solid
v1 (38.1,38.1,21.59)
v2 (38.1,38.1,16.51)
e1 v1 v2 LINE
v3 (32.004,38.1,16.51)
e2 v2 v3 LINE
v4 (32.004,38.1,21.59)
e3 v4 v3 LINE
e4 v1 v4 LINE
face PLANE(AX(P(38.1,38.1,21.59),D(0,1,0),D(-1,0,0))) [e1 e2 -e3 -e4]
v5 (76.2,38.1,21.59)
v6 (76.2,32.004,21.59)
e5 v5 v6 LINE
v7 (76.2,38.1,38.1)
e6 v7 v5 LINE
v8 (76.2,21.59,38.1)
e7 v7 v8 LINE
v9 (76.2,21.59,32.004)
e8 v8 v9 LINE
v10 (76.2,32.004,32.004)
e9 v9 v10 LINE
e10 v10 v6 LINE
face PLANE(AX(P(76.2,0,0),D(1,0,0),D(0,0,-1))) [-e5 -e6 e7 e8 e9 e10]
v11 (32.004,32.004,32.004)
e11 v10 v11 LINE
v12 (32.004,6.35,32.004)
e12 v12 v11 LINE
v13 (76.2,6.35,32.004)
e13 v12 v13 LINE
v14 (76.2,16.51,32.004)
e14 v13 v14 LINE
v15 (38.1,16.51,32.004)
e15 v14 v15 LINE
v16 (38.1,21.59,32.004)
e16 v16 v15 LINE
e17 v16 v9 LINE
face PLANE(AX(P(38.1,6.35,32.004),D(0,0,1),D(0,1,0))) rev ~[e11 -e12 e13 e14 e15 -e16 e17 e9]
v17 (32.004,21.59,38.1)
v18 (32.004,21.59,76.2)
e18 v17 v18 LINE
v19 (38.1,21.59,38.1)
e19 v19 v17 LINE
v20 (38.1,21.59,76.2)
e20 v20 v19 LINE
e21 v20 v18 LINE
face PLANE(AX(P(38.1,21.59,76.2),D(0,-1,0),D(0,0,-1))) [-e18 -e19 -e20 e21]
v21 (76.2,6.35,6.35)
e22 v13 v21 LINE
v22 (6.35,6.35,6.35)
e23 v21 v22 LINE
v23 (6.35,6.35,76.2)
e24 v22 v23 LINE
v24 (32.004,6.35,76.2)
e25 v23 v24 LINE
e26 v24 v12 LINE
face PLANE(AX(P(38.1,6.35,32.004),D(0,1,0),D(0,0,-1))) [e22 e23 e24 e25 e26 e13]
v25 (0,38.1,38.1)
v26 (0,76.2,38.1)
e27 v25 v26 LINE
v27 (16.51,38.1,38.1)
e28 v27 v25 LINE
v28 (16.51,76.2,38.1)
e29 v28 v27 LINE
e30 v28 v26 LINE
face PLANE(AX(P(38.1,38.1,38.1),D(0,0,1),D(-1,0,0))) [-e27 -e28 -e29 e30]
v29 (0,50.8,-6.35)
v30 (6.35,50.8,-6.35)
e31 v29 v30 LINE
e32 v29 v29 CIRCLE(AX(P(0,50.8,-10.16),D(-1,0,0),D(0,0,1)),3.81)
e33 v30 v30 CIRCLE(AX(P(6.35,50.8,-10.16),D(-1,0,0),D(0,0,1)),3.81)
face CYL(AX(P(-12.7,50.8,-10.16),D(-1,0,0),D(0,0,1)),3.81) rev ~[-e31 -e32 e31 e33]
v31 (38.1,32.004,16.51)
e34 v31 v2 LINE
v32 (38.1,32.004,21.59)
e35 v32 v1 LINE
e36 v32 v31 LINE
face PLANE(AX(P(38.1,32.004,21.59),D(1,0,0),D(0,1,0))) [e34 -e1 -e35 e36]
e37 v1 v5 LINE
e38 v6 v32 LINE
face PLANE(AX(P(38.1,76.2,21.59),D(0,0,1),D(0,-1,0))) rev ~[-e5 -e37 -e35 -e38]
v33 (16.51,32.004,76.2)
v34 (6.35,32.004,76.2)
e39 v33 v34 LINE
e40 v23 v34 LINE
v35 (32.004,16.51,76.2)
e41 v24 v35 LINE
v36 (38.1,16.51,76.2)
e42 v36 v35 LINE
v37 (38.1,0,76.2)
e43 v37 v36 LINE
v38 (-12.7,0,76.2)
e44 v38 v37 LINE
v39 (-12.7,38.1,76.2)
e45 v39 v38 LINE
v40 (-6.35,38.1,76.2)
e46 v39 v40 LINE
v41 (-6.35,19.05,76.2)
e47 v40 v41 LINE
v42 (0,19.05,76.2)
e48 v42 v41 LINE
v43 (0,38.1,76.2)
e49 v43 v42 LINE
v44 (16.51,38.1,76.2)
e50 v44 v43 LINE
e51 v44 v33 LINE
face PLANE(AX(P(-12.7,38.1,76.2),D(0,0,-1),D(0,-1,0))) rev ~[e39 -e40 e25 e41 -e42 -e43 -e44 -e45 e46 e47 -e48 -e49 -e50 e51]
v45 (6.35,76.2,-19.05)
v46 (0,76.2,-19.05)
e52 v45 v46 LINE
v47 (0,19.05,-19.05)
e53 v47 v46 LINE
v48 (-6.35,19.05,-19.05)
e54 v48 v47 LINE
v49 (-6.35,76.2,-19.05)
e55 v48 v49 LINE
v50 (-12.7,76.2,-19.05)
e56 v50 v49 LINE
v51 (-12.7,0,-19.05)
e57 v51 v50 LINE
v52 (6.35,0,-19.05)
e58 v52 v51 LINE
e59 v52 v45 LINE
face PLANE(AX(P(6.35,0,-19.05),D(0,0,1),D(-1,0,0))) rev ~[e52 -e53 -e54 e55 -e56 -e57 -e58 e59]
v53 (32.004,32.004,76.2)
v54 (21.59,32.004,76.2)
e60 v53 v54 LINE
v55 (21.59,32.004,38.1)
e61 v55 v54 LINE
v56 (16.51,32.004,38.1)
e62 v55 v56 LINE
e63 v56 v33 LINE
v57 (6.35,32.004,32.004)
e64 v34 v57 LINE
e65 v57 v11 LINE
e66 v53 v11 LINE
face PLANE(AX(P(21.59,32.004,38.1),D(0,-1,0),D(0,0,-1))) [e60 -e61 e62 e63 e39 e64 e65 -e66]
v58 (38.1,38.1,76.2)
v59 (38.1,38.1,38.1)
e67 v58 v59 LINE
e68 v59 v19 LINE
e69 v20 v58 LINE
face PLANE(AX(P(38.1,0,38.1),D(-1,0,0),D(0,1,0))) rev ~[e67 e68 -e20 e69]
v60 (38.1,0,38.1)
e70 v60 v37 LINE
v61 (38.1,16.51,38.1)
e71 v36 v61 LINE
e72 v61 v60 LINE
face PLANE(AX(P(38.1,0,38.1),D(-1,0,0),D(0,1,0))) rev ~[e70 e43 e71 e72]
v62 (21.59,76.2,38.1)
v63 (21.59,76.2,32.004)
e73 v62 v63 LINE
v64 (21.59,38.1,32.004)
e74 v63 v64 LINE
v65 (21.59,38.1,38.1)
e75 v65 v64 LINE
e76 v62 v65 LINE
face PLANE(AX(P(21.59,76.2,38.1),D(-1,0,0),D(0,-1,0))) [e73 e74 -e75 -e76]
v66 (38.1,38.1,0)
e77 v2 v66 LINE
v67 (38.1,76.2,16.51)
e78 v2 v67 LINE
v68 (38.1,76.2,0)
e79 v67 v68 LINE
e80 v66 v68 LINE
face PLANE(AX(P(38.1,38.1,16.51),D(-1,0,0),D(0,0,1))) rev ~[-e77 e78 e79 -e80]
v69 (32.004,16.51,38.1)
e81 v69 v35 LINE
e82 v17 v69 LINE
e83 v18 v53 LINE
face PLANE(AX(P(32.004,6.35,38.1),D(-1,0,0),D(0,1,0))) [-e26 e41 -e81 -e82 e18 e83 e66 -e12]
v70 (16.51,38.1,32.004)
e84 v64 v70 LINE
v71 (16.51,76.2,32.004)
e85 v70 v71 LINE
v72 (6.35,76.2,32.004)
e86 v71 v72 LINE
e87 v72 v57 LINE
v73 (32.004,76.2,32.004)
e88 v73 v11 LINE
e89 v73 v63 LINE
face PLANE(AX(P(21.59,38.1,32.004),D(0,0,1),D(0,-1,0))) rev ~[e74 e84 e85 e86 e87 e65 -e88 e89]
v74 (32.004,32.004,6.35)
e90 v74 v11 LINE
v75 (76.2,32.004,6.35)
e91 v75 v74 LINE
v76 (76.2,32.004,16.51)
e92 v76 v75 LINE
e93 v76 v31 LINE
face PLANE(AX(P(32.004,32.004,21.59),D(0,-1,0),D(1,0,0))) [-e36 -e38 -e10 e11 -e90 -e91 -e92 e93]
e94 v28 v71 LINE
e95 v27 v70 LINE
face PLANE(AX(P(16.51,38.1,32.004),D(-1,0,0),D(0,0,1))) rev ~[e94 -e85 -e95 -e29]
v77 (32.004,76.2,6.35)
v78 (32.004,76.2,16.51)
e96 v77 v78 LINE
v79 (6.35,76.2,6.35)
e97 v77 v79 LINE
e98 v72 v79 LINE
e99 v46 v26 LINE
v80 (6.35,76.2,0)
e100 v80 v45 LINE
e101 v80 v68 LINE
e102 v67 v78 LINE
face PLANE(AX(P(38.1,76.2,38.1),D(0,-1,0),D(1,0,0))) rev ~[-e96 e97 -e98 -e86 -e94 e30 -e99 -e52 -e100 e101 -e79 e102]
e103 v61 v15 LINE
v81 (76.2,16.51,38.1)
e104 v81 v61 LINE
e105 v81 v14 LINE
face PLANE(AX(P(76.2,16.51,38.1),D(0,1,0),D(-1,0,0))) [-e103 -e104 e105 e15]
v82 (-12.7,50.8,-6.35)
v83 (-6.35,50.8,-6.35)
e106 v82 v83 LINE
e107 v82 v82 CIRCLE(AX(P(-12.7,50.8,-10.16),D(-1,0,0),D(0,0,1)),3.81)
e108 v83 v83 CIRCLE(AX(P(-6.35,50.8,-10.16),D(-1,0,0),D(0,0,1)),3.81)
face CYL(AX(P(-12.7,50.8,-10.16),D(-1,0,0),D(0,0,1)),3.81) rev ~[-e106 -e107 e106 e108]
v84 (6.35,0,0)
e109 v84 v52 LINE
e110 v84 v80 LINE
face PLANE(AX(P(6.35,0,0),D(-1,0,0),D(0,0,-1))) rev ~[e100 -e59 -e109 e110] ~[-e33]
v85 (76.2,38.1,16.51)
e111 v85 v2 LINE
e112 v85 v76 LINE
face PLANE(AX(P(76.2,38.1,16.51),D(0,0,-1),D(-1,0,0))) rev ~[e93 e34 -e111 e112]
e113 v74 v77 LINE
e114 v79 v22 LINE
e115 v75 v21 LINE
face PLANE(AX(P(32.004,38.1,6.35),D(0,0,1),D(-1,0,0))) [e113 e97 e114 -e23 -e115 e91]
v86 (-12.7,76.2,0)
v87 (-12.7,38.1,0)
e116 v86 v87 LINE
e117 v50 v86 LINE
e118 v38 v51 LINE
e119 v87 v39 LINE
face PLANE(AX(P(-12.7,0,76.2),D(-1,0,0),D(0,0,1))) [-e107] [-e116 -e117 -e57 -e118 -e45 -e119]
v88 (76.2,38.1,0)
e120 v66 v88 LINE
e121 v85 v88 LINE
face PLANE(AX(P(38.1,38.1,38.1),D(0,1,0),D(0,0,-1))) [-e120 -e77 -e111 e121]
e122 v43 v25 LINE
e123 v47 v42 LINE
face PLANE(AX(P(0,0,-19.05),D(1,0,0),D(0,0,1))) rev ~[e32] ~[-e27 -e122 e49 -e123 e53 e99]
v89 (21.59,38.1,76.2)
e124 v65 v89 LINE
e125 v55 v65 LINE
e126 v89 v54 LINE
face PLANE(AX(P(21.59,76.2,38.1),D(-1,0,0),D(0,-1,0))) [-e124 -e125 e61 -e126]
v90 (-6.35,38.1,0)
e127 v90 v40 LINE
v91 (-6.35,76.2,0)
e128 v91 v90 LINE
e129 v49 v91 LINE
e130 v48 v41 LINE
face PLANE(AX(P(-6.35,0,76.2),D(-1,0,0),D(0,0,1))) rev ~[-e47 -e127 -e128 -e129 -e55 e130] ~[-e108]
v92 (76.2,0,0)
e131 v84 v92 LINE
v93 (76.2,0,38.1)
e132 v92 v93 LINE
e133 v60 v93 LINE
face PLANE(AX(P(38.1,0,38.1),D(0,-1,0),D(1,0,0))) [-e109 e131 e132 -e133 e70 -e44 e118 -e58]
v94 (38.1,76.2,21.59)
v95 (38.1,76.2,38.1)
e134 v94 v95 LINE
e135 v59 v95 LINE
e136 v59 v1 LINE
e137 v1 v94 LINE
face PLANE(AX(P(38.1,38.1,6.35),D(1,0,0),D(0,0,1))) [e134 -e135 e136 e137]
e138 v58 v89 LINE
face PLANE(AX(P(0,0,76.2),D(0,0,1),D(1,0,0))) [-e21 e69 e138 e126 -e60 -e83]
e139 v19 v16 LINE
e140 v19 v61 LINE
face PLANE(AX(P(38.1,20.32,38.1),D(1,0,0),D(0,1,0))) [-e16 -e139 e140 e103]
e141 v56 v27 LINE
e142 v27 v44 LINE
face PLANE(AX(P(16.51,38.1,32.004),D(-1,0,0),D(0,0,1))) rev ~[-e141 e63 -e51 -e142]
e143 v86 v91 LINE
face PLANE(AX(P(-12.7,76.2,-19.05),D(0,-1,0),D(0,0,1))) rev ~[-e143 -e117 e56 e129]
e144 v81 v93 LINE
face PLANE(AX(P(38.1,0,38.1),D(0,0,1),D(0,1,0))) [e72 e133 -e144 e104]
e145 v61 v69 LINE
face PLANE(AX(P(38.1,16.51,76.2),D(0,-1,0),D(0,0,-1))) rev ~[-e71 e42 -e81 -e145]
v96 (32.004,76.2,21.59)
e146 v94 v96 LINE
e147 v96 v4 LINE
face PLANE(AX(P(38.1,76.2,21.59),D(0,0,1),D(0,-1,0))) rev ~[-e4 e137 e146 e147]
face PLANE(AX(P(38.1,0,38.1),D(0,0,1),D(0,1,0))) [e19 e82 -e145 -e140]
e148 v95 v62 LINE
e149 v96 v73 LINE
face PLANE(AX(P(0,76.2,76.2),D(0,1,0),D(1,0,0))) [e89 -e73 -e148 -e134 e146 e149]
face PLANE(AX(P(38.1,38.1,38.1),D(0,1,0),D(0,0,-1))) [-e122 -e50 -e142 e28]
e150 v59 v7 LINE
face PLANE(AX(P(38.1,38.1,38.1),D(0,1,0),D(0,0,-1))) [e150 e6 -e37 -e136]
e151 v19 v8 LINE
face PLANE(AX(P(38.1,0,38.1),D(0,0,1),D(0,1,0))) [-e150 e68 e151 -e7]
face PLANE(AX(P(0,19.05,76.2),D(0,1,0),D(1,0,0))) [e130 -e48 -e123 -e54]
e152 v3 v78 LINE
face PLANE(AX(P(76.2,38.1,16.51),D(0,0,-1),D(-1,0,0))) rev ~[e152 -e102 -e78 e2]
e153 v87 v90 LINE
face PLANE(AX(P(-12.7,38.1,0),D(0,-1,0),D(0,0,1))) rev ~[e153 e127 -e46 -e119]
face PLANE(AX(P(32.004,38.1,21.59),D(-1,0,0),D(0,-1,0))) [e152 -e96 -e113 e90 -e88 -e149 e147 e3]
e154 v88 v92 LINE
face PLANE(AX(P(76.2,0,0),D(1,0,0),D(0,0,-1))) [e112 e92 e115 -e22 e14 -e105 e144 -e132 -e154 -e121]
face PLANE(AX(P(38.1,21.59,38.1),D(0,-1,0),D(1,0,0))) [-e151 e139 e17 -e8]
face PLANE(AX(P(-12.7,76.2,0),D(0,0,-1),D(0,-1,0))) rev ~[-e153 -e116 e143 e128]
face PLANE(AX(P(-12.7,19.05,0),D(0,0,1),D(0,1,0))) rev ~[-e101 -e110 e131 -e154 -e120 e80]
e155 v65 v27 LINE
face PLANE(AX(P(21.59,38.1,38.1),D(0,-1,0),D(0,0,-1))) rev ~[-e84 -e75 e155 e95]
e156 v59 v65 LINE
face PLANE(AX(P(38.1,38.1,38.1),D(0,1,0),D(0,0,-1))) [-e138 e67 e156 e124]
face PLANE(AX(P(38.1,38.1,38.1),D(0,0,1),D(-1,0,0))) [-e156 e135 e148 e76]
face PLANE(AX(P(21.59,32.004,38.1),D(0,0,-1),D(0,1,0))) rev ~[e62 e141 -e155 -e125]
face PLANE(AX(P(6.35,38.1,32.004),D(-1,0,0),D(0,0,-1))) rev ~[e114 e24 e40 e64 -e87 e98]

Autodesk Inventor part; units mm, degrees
ref_plane "YZ Plane" through (0, 0, 0) normal (1, 0, 0) x (0, 1, 0)
ref_plane "XZ Plane" through (0, 0, 0) normal (0, 1, 0) x (-1, 0, 0)
ref_plane "XY Plane" through (0, 0, 0) normal (0, 0, 1) x (1, 0, 0)
sketch "Sketch1" plane through (0, 0, 0) normal (0, 0, 1) x (1, 0, 0)
  line L0 (0, 0) -> (38.1, 0)
  line L1 (38.1, 0) -> (38.1, 38.1)
  line L2 (38.1, 38.1) -> (0, 38.1)
  line L3 (0, 38.1) -> (0, 0)
  dimension "d0" = 38.1
  dimension "d1" = 38.1
extrude "Extrusion1" add sketch "Sketch1" along normal blind 38.1
sketch "Sketch2" plane through (0, 0, 38.1) normal (0, 0, 1) x (1, 0, 0)
  line L0 (6.35, 6.35) -> (32.004, 6.35)
  line L1 (32.004, 6.35) -> (32.004, 32.004)
  line L2 (32.004, 32.004) -> (6.35, 32.004)
  line L3 (6.35, 32.004) -> (6.35, 6.35)
  line L4 (38.1, 0) -> (38.1, 38.1) projected
  line L5 (0, 0) -> (38.1, 0)
  line L6 (38.1, 0) -> (38.1, 38.1)
  line L7 (38.1, 38.1) -> (0, 38.1)
  line L8 (0, 38.1) -> (0, 0)
  dimension "d4" = 25.654
  dimension "d5" = 25.654
extrude "Extrusion2" cut sketch "Sketch2" against normal blind 31.75 contours L3 L2 L1 L0
sketch "Sketch5" plane through (0, 0, 38.1) normal (0, 0, 1) x (1, 0, 0)
  line L0 (6.35, 6.35) -> (6.35, 32.004) projected
  line L1 (6.35, 6.35) -> (32.004, 6.35)
  line L2 (32.004, 6.35) -> (32.004, 32.004)
  line L3 (32.004, 32.004) -> (6.35, 32.004)
  line L4 (6.35, 32.004) -> (6.35, 6.35)
  line L5 (0, 0) -> (38.1, 0) projected
  line L6 (0, 0) -> (38.1, 0)
  line L7 (38.1, 0) -> (38.1, 38.1)
  line L8 (38.1, 38.1) -> (0, 38.1)
  line L9 (0, 38.1) -> (0, 0)
extrude "Extrusion4" add sketch "Sketch5" along normal blind 38.1
sketch "Sketch7" plane through (38.1, 0, 0) normal (1, 0, 0) x (0, 0, -1)
  line L0 (0, 0) -> (-76.2, 0) projected
  line L1 (0, 0) -> (-38.1, 0)
  line L2 (-38.1, 0) -> (-38.1, 38.1)
  line L3 (-38.1, 38.1) -> (0, 38.1)
  line L4 (0, 38.1) -> (0, 0)
  line L5 (-76.2, 6.35) -> (-6.35, 6.35) projected
  line L6 (-6.35, 6.35) -> (-32.004, 6.35)
  line L7 (-32.004, 6.35) -> (-32.004, 32.004)
  line L8 (-32.004, 32.004) -> (-6.35, 32.004)
  line L9 (-6.35, 32.004) -> (-6.35, 6.35)
  dimension "d16" = 38.1
  dimension "d17" = 38.1
  dimension "d20" = 25.654
  dimension "d21" = 25.654
extrude "Extrusion6" add sketch "Sketch7" along normal blind 38.1
sketch "Sketch9" plane through (38.1, 6.35, 6.35) normal (1, 0, 0) x (0, 0, -1)
  line L0 (-25.654, 0) -> (-25.654, 25.654) projected
  line L1 (0, 0) -> (0, 25.654) projected
  line L2 (-25.654, 0) -> (0, 0)
  line L3 (0, 0) -> (0, 25.654)
  line L4 (0, 25.654) -> (-25.654, 25.654)
  line L5 (-25.654, 25.654) -> (-25.654, 0)
  point P0 (6.35, -6.35)
extrude "Extrusion7" cut sketch "Sketch9" against normal blind 31.75
sketch "Sketch10" plane through (0, 38.1, 76.2) normal (0, 1, 0) x (1, 0, 0)
  line L0 (76.2, 69.85) -> (6.35, 69.85) projected
  line L1 (6.35, 69.85) -> (32.004, 69.85)
  line L2 (32.004, 69.85) -> (32.004, 44.196)
  line L3 (32.004, 44.196) -> (6.35, 44.196)
  line L4 (6.35, 44.196) -> (6.35, 69.85)
  line L5 (38.1, 38.1) -> (38.1, 0) projected
  line L6 (0, 76.2) -> (0, 0) projected
  line L7 (38.1, 38.1) -> (0, 38.1)
  line L8 (0, 38.1) -> (0, 76.2)
  line L9 (0, 76.2) -> (38.1, 76.2)
  line L10 (38.1, 76.2) -> (38.1, 38.1)
  point P0 (0, 38.1)
  dimension "d26" = 25.654
  dimension "d27" = 25.654
extrude "Extrusion8" add sketch "Sketch10" along normal blind 38.1
sketch "Sketch11" plane through (6.35, 38.1, 6.35) normal (0, 1, 0) x (1, 0, 0)
  line L0 (0, -25.654) -> (25.654, -25.654) projected
  line L1 (25.654, -25.654) -> (0, -25.654)
  line L2 (0, -25.654) -> (0, 0)
  line L3 (0, 0) -> (25.654, 0)
  line L4 (25.654, 0) -> (25.654, -25.654)
  point P0 (-6.35, 6.35)
extrude "Extrusion9" cut sketch "Sketch11" against normal blind 6.35
sketch "Sketch12" plane through (0, 76.2, 76.2) normal (0, 1, 0) x (1, 0, 0)
  line L0 (38.1, 55.88) -> (32.004, 55.88)
  line L1 (32.004, 55.88) -> (32.004, 58.42)
  line L2 (32.004, 58.42) -> (38.1, 58.42)
  line L3 (38.1, 58.42) -> (38.1, 55.88)
  point P0 (0, 76.2)
  dimension "d32" = 6.096
  dimension "d33" = 2.54
extrude "Extrusion10" cut sketch "Sketch12" against normal blind 38.1
sketch "Sketch13" plane through (76.2, 38.1, 38.1) normal (0, 1, 0) x (1, 0, 0)
  line L0 (0, 31.75) -> (0, 6.096) projected
  line L1 (-44.196, 17.78) -> (0, 17.78)
  line L2 (0, 17.78) -> (0, 20.32)
  line L3 (0, 20.32) -> (-44.196, 20.32)
  line L4 (-44.196, 20.32) -> (-44.196, 17.78)
  point P0 (-76.2, 38.1)
  dimension "d36" = 2.54
extrude "Extrusion11" cut sketch "Sketch13" against normal blind 6.35
sketch "Sketch15" plane through (0, 76.2, 76.2) normal (0, 1, 0) x (1, 0, 0)
  line L0 (17.78, 38.1) -> (20.32, 38.1)
  line L1 (20.32, 38.1) -> (20.32, 44.196)
  line L2 (20.32, 44.196) -> (17.78, 44.196)
  line L3 (17.78, 44.196) -> (17.78, 38.1)
  point P0 (0, 76.2)
  dimension "d39" = 2.54
  dimension "d40" = 6.096
extrude "Extrusion12" cut sketch "Sketch15" against normal blind 38.1
sketch "Sketch16" plane through (0, 38.1, 76.2) normal (0, 1, 0) x (1, 0, 0)
  line L0 (20.32, 44.196) -> (20.32, 38.1) projected
  line L1 (0, 0) -> (38.1, 0) projected
  line L2 (20.32, 44.196) -> (17.78, 44.196)
  line L3 (17.78, 44.196) -> (17.78, 0)
  line L4 (17.78, 0) -> (20.32, 0)
  line L5 (20.32, 0) -> (20.32, 44.196)
  point P0 (0, 76.2)
  dimension "d43" = 2.54
extrude "Extrusion13" cut sketch "Sketch16" against normal blind 6.35
sketch "Sketch17" plane through (38.1, 0, 76.2) normal (1, 0, 0) x (0, 0, -1)
  line L0 (38.1, 0) -> (38.1, 38.1) projected
  line L1 (0, 17.78) -> (38.1, 17.78)
  line L2 (38.1, 17.78) -> (38.1, 20.32)
  line L3 (38.1, 20.32) -> (0, 20.32)
  line L4 (0, 20.32) -> (0, 17.78)
  point P0 (76.2, 0)
  dimension "d46" = 2.54
extrude "Extrusion14" cut sketch "Sketch17" against normal blind 6.35
sketch "Sketch18" plane through (38.1, 0, 38.1) normal (0, 0, 1) x (1, 0, 0)
  line L0 (0, 17.78) -> (38.1, 17.78)
  line L1 (38.1, 17.78) -> (38.1, 20.32)
  line L2 (38.1, 20.32) -> (0, 20.32)
  line L3 (0, 20.32) -> (0, 17.78)
  point P0 (-38.1, 0)
  dimension "d49" = 38.1
  dimension "d50" = 2.54
extrude "Extrusion15" cut sketch "Sketch18" against normal blind 6.35
sketch "Sketch20" plane through (38.1, 38.1, 38.1) normal (0, 0, 1) x (1, 0, 0)
  line L0 (-17.78, -6.096) -> (-17.78, 38.1) projected
  line L1 (0, 0) -> (-17.78, 0) projected
  line L2 (-17.78, 38.1) -> (-16.51, 38.1)
  line L3 (-16.51, 38.1) -> (-16.51, 0)
  line L4 (-16.51, 0) -> (-17.78, 0)
  line L5 (-17.78, 0) -> (-17.78, 38.1)
  point P0 (-38.1, -38.1)
  dimension "d53" = 1.27
extrude "Extrusion16" cut sketch "Sketch20" against normal blind 6.35
sketch "Sketch21" plane through (38.1, 38.1, 76.2) normal (0, 1, 0) x (1, 0, 0)
  line L0 (-17.78, 0) -> (-17.78, 44.196) projected
  line L1 (0, 0) -> (-17.78, 0) projected
  line L2 (-17.78, 44.196) -> (-16.51, 44.196)
  line L3 (-16.51, 44.196) -> (-16.51, 0)
  line L4 (-16.51, 0) -> (-17.78, 0)
  line L5 (-17.78, 0) -> (-17.78, 44.196)
  point P0 (-38.1, 76.2)
  dimension "d56" = 1.27
extrude "Extrusion17" cut sketch "Sketch21" against normal blind 6.35
sketch "Sketch23" plane through (0, 38.1, 38.1) normal (0, 0, 1) x (1, 0, 0)
  line L0 (17.78, 0) -> (17.78, 38.1) projected
  line L1 (17.78, 0) -> (0, 0) projected
  line L2 (17.78, 38.1) -> (16.51, 38.1)
  line L3 (16.51, 38.1) -> (16.51, 0)
  line L4 (16.51, 0) -> (17.78, 0)
  line L5 (17.78, 0) -> (17.78, 38.1)
  point P0 (0, -38.1)
  dimension "d59" = 1.27
extrude "Extrusion18" cut sketch "Sketch23" against normal blind 6.35
sketch "Sketch24" plane through (0, 38.1, 76.2) normal (0, 1, 0) x (1, 0, 0)
  line L0 (17.78, 44.196) -> (17.78, 0) projected
  line L1 (17.78, 0) -> (0, 0) projected
  line L2 (17.78, 44.196) -> (16.51, 44.196)
  line L3 (16.51, 44.196) -> (16.51, 0)
  line L4 (16.51, 0) -> (17.78, 0)
  line L5 (17.78, 0) -> (17.78, 44.196)
  point P0 (0, 76.2)
  dimension "d62" = 1.27
extrude "Extrusion19" cut sketch "Sketch24" against normal blind 6.35
sketch "Sketch25" plane through (38.1, 0, 76.2) normal (1, 0, 0) x (0, 0, -1)
  line L0 (38.1, 0) -> (38.1, 17.78) projected
  line L1 (38.1, 17.78) -> (0, 17.78)
  line L2 (0, 17.78) -> (0, 16.51)
  line L3 (0, 16.51) -> (38.1, 16.51)
  line L4 (38.1, 16.51) -> (38.1, 17.78)
  point P0 (76.2, 0)
  dimension "d65" = 38.1
  dimension "d66" = 1.27
extrude "Extrusion20" cut sketch "Sketch25" against normal blind 6.35
sketch "Sketch26" plane through (38.1, 38.1, 76.2) normal (1, 0, 0) x (0, 0, -1)
  line L0 (0, -17.78) -> (38.1, -17.78) projected
  line L1 (38.1, -17.78) -> (0, -17.78)
  line L2 (0, -17.78) -> (0, -16.51)
  line L3 (0, -16.51) -> (38.1, -16.51)
  line L4 (38.1, -16.51) -> (38.1, -17.78)
  point P0 (76.2, -38.1)
  dimension "d69" = 38.1
  dimension "d70" = 1.27
extrude "Extrusion21" cut sketch "Sketch26" against normal blind 6.35
sketch "Sketch27" plane through (38.1, 0, 38.1) normal (0, 0, 1) x (1, 0, 0)
  line L0 (0, 21.59) -> (0, 38.1) projected
  line L1 (0, 20.32) -> (38.1, 20.32) projected
  line L2 (0, 21.59) -> (38.1, 21.59)
  line L3 (38.1, 21.59) -> (38.1, 20.32)
  line L4 (38.1, 20.32) -> (0, 20.32)
  line L5 (0, 20.32) -> (0, 21.59)
  line L6 (38.1, 17.78) -> (0, 17.78) projected
  line L7 (0, 17.78) -> (38.1, 17.78)
  line L8 (38.1, 17.78) -> (38.1, 16.51)
  line L9 (38.1, 16.51) -> (0, 16.51)
  line L10 (0, 16.51) -> (0, 17.78)
  point P0 (-38.1, 0)
  dimension "d73" = 38.1
  dimension "d74" = 1.27
extrude "Extrusion22" cut sketch "Sketch27" against normal blind 6.35
sketch "Sketch28" plane through (38.1, 38.1, 38.1) normal (0, 1, 0) x (1, 0, 0)
  line L0 (0, 20.32) -> (38.1, 20.32) projected
  line L1 (0, 20.32) -> (38.1, 20.32)
  line L2 (38.1, 20.32) -> (38.1, 21.59)
  line L3 (38.1, 21.59) -> (0, 21.59)
  line L4 (0, 21.59) -> (0, 20.32)
  line L5 (-6.096, 17.78) -> (38.1, 17.78) projected
  line L6 (38.1, 17.78) -> (0, 17.78)
  line L7 (0, 17.78) -> (0, 16.51)
  line L8 (0, 16.51) -> (38.1, 16.51)
  line L9 (38.1, 16.51) -> (38.1, 17.78)
  point P0 (-38.1, 38.1)
  point P1 (0, 17.78)
  dimension "d77" = 38.1
  dimension "d78" = 1.27
  dimension "d79" = 38.1
  dimension "d80" = 1.27
extrude "Extrusion23" cut sketch "Sketch28" against normal blind 6.35
sketch "Sketch29" plane through (38.1, 38.1, 0) normal (1, 0, 0) x (0, 0, -1)
  line L0 (-17.78, -6.096) -> (-6.35, -6.096) projected
  line L1 (-6.35, 38.1) -> (-17.78, 38.1) projected
  line L2 (-17.78, -6.096) -> (-16.51, -6.096)
  line L3 (-16.51, -6.096) -> (-16.51, 38.1)
  line L4 (-16.51, 38.1) -> (-17.78, 38.1)
  line L5 (-17.78, 38.1) -> (-17.78, -6.096)
  line L6 (-21.59, 0) -> (-21.59, -6.096) projected
  line L7 (-20.32, 38.1) -> (-20.32, -6.096) projected
  line L8 (-21.59, -6.096) -> (-20.32, -6.096)
  line L9 (-20.32, -6.096) -> (-20.32, 38.1)
  line L10 (-20.32, 38.1) -> (-21.59, 38.1)
  line L11 (-21.59, 38.1) -> (-21.59, -6.096)
  point P0 (0, -38.1)
  point P1 (-20.32, -6.096)
  dimension "d83" = 1.27
extrude "Extrusion24" cut sketch "Sketch29" against normal blind 6.35
sketch "Sketch30" plane through (76.2, 38.1, 21.59) normal (0, 0, -1) x (-1, 0, 0)
  line L0 (0, 0) -> (38.1, 0) projected
  line L1 (44.196, 38.1) -> (44.196, -6.096) projected
  line L2 (38.1, 0) -> (44.196, 0)
  line L3 (44.196, 0) -> (44.196, -6.096)
  line L4 (44.196, -6.096) -> (38.1, -6.096)
  line L5 (38.1, -6.096) -> (38.1, 0)
  point P0 (76.2, -38.1)
  point P1 (44.196, 0)
extrude "Extrusion25" add sketch "Sketch30" along normal blind 5.08
sketch "Sketch31" plane through (21.59, 38.1, 38.1) normal (-1, 0, 0) x (0, 0, 1)
  line L0 (38.1, -6.096) -> (-6.096, -6.096) projected
  line L1 (0, 0) -> (-6.096, 0)
  line L2 (-6.096, 0) -> (-6.096, -6.096)
  line L3 (-6.096, -6.096) -> (0, -6.096)
  line L4 (0, -6.096) -> (0, 0)
  point P0 (-38.1, -38.1)
extrude "Extrusion26" add sketch "Sketch31" along normal blind 5.08
sketch "Sketch32" plane through (0, 0, 76.2) normal (-1, 0, 0) x (0, 0, 1)
  line L0 (0, 38.1) -> (0, 0) projected
  line L1 (0, 19.05) -> (-76.2, 19.05)
  line L2 (-76.2, 19.05) -> (-76.2, 0)
  line L3 (-76.2, 0) -> (0, 0)
  line L4 (0, 0) -> (0, 19.05)
  line L5 (-76.2, 0) -> (-56.896, 0)
  line L6 (-56.896, 0) -> (-56.896, 76.2)
  line L7 (-56.896, 76.2) -> (-76.2, 76.2)
  line L8 (-76.2, 76.2) -> (-76.2, 0)
  point P0 (0, 0)
  point P1 (-56.896, 19.05)
  dimension "d90" = 19.304
  dimension "d91" = 76.2
extrude "Extrusion27" add sketch "Sketch32" along normal blind 12.7 contours L0 L3 L6 L1 | L6 L3 L2 L1
sketch "Sketch34" plane through (-12.7, 0, 76.2) normal (-1, 0, 0) x (0, 0, 1)
  line L0 (0, 38.1) -> (0, 19.05) projected
  line L1 (0, 19.05) -> (-76.2, 19.05)
  line L2 (-76.2, 19.05) -> (-76.2, 38.1)
  line L3 (-76.2, 38.1) -> (0, 38.1)
  line L4 (0, 38.1) -> (0, 19.05)
  point P0 (-76.2, 0)
  dimension "d98" = 76.2
  dimension "d99" = 19.05
extrude "Extrusion29" add sketch "Sketch34" against normal blind 6.35
sketch "Sketch35" plane through (-12.7, 0, 76.2) normal (-1, 0, 0) x (0, 0, 1)
  line L0 (-76.2, 0) -> (-95.25, 0)
  line L1 (-95.25, 0) -> (-95.25, 76.2)
  line L2 (-95.25, 76.2) -> (-76.2, 76.2)
  line L3 (-76.2, 76.2) -> (-76.2, 0)
  dimension "d102" = 19.05
  dimension "d103" = 76.2
extrude "Extrusion30" add sketch "Sketch35" against normal blind 6.35
sketch "Sketch37" plane through (0, 19.05, 76.2) normal (0, 1, 0) x (1, 0, 0)
  line L0 (0, 76.2) -> (-6.35, 76.2)
  line L1 (-6.35, 76.2) -> (-6.35, 95.25)
  line L2 (-6.35, 95.25) -> (0, 95.25)
  line L3 (0, 95.25) -> (0, 76.2)
  dimension "d106" = 6.35
  dimension "d107" = 19.05
extrude "Extrusion31" add sketch "Sketch37" against normal blind 19.05
sketch "Sketch38" plane through (38.1, 0, 38.1) normal (0, -1, 0) x (1, 0, 0)
  line L0 (-38.1, -38.1) -> (-31.75, -38.1)
  line L1 (-31.75, -38.1) -> (-31.75, -57.15)
  line L2 (-31.75, -57.15) -> (-38.1, -57.15)
  line L3 (-38.1, -57.15) -> (-38.1, -38.1)
  dimension "d110" = 6.35
  dimension "d111" = 19.05
extrude "Extrusion32" add sketch "Sketch38" against normal blind 76.2
sketch "Sketch39" plane through (-12.7, 0, 76.2) normal (-1, 0, 0) x (0, 0, 1)
  circle A0 centre (-86.36, 50.8) radius 3.81
  point P0 (-76.2, 0)
  dimension "d114" = 7.62
extrude "Extrusion33" cut sketch "Sketch39" against normal through all
properties part number "corner connector with rails (front right)"
